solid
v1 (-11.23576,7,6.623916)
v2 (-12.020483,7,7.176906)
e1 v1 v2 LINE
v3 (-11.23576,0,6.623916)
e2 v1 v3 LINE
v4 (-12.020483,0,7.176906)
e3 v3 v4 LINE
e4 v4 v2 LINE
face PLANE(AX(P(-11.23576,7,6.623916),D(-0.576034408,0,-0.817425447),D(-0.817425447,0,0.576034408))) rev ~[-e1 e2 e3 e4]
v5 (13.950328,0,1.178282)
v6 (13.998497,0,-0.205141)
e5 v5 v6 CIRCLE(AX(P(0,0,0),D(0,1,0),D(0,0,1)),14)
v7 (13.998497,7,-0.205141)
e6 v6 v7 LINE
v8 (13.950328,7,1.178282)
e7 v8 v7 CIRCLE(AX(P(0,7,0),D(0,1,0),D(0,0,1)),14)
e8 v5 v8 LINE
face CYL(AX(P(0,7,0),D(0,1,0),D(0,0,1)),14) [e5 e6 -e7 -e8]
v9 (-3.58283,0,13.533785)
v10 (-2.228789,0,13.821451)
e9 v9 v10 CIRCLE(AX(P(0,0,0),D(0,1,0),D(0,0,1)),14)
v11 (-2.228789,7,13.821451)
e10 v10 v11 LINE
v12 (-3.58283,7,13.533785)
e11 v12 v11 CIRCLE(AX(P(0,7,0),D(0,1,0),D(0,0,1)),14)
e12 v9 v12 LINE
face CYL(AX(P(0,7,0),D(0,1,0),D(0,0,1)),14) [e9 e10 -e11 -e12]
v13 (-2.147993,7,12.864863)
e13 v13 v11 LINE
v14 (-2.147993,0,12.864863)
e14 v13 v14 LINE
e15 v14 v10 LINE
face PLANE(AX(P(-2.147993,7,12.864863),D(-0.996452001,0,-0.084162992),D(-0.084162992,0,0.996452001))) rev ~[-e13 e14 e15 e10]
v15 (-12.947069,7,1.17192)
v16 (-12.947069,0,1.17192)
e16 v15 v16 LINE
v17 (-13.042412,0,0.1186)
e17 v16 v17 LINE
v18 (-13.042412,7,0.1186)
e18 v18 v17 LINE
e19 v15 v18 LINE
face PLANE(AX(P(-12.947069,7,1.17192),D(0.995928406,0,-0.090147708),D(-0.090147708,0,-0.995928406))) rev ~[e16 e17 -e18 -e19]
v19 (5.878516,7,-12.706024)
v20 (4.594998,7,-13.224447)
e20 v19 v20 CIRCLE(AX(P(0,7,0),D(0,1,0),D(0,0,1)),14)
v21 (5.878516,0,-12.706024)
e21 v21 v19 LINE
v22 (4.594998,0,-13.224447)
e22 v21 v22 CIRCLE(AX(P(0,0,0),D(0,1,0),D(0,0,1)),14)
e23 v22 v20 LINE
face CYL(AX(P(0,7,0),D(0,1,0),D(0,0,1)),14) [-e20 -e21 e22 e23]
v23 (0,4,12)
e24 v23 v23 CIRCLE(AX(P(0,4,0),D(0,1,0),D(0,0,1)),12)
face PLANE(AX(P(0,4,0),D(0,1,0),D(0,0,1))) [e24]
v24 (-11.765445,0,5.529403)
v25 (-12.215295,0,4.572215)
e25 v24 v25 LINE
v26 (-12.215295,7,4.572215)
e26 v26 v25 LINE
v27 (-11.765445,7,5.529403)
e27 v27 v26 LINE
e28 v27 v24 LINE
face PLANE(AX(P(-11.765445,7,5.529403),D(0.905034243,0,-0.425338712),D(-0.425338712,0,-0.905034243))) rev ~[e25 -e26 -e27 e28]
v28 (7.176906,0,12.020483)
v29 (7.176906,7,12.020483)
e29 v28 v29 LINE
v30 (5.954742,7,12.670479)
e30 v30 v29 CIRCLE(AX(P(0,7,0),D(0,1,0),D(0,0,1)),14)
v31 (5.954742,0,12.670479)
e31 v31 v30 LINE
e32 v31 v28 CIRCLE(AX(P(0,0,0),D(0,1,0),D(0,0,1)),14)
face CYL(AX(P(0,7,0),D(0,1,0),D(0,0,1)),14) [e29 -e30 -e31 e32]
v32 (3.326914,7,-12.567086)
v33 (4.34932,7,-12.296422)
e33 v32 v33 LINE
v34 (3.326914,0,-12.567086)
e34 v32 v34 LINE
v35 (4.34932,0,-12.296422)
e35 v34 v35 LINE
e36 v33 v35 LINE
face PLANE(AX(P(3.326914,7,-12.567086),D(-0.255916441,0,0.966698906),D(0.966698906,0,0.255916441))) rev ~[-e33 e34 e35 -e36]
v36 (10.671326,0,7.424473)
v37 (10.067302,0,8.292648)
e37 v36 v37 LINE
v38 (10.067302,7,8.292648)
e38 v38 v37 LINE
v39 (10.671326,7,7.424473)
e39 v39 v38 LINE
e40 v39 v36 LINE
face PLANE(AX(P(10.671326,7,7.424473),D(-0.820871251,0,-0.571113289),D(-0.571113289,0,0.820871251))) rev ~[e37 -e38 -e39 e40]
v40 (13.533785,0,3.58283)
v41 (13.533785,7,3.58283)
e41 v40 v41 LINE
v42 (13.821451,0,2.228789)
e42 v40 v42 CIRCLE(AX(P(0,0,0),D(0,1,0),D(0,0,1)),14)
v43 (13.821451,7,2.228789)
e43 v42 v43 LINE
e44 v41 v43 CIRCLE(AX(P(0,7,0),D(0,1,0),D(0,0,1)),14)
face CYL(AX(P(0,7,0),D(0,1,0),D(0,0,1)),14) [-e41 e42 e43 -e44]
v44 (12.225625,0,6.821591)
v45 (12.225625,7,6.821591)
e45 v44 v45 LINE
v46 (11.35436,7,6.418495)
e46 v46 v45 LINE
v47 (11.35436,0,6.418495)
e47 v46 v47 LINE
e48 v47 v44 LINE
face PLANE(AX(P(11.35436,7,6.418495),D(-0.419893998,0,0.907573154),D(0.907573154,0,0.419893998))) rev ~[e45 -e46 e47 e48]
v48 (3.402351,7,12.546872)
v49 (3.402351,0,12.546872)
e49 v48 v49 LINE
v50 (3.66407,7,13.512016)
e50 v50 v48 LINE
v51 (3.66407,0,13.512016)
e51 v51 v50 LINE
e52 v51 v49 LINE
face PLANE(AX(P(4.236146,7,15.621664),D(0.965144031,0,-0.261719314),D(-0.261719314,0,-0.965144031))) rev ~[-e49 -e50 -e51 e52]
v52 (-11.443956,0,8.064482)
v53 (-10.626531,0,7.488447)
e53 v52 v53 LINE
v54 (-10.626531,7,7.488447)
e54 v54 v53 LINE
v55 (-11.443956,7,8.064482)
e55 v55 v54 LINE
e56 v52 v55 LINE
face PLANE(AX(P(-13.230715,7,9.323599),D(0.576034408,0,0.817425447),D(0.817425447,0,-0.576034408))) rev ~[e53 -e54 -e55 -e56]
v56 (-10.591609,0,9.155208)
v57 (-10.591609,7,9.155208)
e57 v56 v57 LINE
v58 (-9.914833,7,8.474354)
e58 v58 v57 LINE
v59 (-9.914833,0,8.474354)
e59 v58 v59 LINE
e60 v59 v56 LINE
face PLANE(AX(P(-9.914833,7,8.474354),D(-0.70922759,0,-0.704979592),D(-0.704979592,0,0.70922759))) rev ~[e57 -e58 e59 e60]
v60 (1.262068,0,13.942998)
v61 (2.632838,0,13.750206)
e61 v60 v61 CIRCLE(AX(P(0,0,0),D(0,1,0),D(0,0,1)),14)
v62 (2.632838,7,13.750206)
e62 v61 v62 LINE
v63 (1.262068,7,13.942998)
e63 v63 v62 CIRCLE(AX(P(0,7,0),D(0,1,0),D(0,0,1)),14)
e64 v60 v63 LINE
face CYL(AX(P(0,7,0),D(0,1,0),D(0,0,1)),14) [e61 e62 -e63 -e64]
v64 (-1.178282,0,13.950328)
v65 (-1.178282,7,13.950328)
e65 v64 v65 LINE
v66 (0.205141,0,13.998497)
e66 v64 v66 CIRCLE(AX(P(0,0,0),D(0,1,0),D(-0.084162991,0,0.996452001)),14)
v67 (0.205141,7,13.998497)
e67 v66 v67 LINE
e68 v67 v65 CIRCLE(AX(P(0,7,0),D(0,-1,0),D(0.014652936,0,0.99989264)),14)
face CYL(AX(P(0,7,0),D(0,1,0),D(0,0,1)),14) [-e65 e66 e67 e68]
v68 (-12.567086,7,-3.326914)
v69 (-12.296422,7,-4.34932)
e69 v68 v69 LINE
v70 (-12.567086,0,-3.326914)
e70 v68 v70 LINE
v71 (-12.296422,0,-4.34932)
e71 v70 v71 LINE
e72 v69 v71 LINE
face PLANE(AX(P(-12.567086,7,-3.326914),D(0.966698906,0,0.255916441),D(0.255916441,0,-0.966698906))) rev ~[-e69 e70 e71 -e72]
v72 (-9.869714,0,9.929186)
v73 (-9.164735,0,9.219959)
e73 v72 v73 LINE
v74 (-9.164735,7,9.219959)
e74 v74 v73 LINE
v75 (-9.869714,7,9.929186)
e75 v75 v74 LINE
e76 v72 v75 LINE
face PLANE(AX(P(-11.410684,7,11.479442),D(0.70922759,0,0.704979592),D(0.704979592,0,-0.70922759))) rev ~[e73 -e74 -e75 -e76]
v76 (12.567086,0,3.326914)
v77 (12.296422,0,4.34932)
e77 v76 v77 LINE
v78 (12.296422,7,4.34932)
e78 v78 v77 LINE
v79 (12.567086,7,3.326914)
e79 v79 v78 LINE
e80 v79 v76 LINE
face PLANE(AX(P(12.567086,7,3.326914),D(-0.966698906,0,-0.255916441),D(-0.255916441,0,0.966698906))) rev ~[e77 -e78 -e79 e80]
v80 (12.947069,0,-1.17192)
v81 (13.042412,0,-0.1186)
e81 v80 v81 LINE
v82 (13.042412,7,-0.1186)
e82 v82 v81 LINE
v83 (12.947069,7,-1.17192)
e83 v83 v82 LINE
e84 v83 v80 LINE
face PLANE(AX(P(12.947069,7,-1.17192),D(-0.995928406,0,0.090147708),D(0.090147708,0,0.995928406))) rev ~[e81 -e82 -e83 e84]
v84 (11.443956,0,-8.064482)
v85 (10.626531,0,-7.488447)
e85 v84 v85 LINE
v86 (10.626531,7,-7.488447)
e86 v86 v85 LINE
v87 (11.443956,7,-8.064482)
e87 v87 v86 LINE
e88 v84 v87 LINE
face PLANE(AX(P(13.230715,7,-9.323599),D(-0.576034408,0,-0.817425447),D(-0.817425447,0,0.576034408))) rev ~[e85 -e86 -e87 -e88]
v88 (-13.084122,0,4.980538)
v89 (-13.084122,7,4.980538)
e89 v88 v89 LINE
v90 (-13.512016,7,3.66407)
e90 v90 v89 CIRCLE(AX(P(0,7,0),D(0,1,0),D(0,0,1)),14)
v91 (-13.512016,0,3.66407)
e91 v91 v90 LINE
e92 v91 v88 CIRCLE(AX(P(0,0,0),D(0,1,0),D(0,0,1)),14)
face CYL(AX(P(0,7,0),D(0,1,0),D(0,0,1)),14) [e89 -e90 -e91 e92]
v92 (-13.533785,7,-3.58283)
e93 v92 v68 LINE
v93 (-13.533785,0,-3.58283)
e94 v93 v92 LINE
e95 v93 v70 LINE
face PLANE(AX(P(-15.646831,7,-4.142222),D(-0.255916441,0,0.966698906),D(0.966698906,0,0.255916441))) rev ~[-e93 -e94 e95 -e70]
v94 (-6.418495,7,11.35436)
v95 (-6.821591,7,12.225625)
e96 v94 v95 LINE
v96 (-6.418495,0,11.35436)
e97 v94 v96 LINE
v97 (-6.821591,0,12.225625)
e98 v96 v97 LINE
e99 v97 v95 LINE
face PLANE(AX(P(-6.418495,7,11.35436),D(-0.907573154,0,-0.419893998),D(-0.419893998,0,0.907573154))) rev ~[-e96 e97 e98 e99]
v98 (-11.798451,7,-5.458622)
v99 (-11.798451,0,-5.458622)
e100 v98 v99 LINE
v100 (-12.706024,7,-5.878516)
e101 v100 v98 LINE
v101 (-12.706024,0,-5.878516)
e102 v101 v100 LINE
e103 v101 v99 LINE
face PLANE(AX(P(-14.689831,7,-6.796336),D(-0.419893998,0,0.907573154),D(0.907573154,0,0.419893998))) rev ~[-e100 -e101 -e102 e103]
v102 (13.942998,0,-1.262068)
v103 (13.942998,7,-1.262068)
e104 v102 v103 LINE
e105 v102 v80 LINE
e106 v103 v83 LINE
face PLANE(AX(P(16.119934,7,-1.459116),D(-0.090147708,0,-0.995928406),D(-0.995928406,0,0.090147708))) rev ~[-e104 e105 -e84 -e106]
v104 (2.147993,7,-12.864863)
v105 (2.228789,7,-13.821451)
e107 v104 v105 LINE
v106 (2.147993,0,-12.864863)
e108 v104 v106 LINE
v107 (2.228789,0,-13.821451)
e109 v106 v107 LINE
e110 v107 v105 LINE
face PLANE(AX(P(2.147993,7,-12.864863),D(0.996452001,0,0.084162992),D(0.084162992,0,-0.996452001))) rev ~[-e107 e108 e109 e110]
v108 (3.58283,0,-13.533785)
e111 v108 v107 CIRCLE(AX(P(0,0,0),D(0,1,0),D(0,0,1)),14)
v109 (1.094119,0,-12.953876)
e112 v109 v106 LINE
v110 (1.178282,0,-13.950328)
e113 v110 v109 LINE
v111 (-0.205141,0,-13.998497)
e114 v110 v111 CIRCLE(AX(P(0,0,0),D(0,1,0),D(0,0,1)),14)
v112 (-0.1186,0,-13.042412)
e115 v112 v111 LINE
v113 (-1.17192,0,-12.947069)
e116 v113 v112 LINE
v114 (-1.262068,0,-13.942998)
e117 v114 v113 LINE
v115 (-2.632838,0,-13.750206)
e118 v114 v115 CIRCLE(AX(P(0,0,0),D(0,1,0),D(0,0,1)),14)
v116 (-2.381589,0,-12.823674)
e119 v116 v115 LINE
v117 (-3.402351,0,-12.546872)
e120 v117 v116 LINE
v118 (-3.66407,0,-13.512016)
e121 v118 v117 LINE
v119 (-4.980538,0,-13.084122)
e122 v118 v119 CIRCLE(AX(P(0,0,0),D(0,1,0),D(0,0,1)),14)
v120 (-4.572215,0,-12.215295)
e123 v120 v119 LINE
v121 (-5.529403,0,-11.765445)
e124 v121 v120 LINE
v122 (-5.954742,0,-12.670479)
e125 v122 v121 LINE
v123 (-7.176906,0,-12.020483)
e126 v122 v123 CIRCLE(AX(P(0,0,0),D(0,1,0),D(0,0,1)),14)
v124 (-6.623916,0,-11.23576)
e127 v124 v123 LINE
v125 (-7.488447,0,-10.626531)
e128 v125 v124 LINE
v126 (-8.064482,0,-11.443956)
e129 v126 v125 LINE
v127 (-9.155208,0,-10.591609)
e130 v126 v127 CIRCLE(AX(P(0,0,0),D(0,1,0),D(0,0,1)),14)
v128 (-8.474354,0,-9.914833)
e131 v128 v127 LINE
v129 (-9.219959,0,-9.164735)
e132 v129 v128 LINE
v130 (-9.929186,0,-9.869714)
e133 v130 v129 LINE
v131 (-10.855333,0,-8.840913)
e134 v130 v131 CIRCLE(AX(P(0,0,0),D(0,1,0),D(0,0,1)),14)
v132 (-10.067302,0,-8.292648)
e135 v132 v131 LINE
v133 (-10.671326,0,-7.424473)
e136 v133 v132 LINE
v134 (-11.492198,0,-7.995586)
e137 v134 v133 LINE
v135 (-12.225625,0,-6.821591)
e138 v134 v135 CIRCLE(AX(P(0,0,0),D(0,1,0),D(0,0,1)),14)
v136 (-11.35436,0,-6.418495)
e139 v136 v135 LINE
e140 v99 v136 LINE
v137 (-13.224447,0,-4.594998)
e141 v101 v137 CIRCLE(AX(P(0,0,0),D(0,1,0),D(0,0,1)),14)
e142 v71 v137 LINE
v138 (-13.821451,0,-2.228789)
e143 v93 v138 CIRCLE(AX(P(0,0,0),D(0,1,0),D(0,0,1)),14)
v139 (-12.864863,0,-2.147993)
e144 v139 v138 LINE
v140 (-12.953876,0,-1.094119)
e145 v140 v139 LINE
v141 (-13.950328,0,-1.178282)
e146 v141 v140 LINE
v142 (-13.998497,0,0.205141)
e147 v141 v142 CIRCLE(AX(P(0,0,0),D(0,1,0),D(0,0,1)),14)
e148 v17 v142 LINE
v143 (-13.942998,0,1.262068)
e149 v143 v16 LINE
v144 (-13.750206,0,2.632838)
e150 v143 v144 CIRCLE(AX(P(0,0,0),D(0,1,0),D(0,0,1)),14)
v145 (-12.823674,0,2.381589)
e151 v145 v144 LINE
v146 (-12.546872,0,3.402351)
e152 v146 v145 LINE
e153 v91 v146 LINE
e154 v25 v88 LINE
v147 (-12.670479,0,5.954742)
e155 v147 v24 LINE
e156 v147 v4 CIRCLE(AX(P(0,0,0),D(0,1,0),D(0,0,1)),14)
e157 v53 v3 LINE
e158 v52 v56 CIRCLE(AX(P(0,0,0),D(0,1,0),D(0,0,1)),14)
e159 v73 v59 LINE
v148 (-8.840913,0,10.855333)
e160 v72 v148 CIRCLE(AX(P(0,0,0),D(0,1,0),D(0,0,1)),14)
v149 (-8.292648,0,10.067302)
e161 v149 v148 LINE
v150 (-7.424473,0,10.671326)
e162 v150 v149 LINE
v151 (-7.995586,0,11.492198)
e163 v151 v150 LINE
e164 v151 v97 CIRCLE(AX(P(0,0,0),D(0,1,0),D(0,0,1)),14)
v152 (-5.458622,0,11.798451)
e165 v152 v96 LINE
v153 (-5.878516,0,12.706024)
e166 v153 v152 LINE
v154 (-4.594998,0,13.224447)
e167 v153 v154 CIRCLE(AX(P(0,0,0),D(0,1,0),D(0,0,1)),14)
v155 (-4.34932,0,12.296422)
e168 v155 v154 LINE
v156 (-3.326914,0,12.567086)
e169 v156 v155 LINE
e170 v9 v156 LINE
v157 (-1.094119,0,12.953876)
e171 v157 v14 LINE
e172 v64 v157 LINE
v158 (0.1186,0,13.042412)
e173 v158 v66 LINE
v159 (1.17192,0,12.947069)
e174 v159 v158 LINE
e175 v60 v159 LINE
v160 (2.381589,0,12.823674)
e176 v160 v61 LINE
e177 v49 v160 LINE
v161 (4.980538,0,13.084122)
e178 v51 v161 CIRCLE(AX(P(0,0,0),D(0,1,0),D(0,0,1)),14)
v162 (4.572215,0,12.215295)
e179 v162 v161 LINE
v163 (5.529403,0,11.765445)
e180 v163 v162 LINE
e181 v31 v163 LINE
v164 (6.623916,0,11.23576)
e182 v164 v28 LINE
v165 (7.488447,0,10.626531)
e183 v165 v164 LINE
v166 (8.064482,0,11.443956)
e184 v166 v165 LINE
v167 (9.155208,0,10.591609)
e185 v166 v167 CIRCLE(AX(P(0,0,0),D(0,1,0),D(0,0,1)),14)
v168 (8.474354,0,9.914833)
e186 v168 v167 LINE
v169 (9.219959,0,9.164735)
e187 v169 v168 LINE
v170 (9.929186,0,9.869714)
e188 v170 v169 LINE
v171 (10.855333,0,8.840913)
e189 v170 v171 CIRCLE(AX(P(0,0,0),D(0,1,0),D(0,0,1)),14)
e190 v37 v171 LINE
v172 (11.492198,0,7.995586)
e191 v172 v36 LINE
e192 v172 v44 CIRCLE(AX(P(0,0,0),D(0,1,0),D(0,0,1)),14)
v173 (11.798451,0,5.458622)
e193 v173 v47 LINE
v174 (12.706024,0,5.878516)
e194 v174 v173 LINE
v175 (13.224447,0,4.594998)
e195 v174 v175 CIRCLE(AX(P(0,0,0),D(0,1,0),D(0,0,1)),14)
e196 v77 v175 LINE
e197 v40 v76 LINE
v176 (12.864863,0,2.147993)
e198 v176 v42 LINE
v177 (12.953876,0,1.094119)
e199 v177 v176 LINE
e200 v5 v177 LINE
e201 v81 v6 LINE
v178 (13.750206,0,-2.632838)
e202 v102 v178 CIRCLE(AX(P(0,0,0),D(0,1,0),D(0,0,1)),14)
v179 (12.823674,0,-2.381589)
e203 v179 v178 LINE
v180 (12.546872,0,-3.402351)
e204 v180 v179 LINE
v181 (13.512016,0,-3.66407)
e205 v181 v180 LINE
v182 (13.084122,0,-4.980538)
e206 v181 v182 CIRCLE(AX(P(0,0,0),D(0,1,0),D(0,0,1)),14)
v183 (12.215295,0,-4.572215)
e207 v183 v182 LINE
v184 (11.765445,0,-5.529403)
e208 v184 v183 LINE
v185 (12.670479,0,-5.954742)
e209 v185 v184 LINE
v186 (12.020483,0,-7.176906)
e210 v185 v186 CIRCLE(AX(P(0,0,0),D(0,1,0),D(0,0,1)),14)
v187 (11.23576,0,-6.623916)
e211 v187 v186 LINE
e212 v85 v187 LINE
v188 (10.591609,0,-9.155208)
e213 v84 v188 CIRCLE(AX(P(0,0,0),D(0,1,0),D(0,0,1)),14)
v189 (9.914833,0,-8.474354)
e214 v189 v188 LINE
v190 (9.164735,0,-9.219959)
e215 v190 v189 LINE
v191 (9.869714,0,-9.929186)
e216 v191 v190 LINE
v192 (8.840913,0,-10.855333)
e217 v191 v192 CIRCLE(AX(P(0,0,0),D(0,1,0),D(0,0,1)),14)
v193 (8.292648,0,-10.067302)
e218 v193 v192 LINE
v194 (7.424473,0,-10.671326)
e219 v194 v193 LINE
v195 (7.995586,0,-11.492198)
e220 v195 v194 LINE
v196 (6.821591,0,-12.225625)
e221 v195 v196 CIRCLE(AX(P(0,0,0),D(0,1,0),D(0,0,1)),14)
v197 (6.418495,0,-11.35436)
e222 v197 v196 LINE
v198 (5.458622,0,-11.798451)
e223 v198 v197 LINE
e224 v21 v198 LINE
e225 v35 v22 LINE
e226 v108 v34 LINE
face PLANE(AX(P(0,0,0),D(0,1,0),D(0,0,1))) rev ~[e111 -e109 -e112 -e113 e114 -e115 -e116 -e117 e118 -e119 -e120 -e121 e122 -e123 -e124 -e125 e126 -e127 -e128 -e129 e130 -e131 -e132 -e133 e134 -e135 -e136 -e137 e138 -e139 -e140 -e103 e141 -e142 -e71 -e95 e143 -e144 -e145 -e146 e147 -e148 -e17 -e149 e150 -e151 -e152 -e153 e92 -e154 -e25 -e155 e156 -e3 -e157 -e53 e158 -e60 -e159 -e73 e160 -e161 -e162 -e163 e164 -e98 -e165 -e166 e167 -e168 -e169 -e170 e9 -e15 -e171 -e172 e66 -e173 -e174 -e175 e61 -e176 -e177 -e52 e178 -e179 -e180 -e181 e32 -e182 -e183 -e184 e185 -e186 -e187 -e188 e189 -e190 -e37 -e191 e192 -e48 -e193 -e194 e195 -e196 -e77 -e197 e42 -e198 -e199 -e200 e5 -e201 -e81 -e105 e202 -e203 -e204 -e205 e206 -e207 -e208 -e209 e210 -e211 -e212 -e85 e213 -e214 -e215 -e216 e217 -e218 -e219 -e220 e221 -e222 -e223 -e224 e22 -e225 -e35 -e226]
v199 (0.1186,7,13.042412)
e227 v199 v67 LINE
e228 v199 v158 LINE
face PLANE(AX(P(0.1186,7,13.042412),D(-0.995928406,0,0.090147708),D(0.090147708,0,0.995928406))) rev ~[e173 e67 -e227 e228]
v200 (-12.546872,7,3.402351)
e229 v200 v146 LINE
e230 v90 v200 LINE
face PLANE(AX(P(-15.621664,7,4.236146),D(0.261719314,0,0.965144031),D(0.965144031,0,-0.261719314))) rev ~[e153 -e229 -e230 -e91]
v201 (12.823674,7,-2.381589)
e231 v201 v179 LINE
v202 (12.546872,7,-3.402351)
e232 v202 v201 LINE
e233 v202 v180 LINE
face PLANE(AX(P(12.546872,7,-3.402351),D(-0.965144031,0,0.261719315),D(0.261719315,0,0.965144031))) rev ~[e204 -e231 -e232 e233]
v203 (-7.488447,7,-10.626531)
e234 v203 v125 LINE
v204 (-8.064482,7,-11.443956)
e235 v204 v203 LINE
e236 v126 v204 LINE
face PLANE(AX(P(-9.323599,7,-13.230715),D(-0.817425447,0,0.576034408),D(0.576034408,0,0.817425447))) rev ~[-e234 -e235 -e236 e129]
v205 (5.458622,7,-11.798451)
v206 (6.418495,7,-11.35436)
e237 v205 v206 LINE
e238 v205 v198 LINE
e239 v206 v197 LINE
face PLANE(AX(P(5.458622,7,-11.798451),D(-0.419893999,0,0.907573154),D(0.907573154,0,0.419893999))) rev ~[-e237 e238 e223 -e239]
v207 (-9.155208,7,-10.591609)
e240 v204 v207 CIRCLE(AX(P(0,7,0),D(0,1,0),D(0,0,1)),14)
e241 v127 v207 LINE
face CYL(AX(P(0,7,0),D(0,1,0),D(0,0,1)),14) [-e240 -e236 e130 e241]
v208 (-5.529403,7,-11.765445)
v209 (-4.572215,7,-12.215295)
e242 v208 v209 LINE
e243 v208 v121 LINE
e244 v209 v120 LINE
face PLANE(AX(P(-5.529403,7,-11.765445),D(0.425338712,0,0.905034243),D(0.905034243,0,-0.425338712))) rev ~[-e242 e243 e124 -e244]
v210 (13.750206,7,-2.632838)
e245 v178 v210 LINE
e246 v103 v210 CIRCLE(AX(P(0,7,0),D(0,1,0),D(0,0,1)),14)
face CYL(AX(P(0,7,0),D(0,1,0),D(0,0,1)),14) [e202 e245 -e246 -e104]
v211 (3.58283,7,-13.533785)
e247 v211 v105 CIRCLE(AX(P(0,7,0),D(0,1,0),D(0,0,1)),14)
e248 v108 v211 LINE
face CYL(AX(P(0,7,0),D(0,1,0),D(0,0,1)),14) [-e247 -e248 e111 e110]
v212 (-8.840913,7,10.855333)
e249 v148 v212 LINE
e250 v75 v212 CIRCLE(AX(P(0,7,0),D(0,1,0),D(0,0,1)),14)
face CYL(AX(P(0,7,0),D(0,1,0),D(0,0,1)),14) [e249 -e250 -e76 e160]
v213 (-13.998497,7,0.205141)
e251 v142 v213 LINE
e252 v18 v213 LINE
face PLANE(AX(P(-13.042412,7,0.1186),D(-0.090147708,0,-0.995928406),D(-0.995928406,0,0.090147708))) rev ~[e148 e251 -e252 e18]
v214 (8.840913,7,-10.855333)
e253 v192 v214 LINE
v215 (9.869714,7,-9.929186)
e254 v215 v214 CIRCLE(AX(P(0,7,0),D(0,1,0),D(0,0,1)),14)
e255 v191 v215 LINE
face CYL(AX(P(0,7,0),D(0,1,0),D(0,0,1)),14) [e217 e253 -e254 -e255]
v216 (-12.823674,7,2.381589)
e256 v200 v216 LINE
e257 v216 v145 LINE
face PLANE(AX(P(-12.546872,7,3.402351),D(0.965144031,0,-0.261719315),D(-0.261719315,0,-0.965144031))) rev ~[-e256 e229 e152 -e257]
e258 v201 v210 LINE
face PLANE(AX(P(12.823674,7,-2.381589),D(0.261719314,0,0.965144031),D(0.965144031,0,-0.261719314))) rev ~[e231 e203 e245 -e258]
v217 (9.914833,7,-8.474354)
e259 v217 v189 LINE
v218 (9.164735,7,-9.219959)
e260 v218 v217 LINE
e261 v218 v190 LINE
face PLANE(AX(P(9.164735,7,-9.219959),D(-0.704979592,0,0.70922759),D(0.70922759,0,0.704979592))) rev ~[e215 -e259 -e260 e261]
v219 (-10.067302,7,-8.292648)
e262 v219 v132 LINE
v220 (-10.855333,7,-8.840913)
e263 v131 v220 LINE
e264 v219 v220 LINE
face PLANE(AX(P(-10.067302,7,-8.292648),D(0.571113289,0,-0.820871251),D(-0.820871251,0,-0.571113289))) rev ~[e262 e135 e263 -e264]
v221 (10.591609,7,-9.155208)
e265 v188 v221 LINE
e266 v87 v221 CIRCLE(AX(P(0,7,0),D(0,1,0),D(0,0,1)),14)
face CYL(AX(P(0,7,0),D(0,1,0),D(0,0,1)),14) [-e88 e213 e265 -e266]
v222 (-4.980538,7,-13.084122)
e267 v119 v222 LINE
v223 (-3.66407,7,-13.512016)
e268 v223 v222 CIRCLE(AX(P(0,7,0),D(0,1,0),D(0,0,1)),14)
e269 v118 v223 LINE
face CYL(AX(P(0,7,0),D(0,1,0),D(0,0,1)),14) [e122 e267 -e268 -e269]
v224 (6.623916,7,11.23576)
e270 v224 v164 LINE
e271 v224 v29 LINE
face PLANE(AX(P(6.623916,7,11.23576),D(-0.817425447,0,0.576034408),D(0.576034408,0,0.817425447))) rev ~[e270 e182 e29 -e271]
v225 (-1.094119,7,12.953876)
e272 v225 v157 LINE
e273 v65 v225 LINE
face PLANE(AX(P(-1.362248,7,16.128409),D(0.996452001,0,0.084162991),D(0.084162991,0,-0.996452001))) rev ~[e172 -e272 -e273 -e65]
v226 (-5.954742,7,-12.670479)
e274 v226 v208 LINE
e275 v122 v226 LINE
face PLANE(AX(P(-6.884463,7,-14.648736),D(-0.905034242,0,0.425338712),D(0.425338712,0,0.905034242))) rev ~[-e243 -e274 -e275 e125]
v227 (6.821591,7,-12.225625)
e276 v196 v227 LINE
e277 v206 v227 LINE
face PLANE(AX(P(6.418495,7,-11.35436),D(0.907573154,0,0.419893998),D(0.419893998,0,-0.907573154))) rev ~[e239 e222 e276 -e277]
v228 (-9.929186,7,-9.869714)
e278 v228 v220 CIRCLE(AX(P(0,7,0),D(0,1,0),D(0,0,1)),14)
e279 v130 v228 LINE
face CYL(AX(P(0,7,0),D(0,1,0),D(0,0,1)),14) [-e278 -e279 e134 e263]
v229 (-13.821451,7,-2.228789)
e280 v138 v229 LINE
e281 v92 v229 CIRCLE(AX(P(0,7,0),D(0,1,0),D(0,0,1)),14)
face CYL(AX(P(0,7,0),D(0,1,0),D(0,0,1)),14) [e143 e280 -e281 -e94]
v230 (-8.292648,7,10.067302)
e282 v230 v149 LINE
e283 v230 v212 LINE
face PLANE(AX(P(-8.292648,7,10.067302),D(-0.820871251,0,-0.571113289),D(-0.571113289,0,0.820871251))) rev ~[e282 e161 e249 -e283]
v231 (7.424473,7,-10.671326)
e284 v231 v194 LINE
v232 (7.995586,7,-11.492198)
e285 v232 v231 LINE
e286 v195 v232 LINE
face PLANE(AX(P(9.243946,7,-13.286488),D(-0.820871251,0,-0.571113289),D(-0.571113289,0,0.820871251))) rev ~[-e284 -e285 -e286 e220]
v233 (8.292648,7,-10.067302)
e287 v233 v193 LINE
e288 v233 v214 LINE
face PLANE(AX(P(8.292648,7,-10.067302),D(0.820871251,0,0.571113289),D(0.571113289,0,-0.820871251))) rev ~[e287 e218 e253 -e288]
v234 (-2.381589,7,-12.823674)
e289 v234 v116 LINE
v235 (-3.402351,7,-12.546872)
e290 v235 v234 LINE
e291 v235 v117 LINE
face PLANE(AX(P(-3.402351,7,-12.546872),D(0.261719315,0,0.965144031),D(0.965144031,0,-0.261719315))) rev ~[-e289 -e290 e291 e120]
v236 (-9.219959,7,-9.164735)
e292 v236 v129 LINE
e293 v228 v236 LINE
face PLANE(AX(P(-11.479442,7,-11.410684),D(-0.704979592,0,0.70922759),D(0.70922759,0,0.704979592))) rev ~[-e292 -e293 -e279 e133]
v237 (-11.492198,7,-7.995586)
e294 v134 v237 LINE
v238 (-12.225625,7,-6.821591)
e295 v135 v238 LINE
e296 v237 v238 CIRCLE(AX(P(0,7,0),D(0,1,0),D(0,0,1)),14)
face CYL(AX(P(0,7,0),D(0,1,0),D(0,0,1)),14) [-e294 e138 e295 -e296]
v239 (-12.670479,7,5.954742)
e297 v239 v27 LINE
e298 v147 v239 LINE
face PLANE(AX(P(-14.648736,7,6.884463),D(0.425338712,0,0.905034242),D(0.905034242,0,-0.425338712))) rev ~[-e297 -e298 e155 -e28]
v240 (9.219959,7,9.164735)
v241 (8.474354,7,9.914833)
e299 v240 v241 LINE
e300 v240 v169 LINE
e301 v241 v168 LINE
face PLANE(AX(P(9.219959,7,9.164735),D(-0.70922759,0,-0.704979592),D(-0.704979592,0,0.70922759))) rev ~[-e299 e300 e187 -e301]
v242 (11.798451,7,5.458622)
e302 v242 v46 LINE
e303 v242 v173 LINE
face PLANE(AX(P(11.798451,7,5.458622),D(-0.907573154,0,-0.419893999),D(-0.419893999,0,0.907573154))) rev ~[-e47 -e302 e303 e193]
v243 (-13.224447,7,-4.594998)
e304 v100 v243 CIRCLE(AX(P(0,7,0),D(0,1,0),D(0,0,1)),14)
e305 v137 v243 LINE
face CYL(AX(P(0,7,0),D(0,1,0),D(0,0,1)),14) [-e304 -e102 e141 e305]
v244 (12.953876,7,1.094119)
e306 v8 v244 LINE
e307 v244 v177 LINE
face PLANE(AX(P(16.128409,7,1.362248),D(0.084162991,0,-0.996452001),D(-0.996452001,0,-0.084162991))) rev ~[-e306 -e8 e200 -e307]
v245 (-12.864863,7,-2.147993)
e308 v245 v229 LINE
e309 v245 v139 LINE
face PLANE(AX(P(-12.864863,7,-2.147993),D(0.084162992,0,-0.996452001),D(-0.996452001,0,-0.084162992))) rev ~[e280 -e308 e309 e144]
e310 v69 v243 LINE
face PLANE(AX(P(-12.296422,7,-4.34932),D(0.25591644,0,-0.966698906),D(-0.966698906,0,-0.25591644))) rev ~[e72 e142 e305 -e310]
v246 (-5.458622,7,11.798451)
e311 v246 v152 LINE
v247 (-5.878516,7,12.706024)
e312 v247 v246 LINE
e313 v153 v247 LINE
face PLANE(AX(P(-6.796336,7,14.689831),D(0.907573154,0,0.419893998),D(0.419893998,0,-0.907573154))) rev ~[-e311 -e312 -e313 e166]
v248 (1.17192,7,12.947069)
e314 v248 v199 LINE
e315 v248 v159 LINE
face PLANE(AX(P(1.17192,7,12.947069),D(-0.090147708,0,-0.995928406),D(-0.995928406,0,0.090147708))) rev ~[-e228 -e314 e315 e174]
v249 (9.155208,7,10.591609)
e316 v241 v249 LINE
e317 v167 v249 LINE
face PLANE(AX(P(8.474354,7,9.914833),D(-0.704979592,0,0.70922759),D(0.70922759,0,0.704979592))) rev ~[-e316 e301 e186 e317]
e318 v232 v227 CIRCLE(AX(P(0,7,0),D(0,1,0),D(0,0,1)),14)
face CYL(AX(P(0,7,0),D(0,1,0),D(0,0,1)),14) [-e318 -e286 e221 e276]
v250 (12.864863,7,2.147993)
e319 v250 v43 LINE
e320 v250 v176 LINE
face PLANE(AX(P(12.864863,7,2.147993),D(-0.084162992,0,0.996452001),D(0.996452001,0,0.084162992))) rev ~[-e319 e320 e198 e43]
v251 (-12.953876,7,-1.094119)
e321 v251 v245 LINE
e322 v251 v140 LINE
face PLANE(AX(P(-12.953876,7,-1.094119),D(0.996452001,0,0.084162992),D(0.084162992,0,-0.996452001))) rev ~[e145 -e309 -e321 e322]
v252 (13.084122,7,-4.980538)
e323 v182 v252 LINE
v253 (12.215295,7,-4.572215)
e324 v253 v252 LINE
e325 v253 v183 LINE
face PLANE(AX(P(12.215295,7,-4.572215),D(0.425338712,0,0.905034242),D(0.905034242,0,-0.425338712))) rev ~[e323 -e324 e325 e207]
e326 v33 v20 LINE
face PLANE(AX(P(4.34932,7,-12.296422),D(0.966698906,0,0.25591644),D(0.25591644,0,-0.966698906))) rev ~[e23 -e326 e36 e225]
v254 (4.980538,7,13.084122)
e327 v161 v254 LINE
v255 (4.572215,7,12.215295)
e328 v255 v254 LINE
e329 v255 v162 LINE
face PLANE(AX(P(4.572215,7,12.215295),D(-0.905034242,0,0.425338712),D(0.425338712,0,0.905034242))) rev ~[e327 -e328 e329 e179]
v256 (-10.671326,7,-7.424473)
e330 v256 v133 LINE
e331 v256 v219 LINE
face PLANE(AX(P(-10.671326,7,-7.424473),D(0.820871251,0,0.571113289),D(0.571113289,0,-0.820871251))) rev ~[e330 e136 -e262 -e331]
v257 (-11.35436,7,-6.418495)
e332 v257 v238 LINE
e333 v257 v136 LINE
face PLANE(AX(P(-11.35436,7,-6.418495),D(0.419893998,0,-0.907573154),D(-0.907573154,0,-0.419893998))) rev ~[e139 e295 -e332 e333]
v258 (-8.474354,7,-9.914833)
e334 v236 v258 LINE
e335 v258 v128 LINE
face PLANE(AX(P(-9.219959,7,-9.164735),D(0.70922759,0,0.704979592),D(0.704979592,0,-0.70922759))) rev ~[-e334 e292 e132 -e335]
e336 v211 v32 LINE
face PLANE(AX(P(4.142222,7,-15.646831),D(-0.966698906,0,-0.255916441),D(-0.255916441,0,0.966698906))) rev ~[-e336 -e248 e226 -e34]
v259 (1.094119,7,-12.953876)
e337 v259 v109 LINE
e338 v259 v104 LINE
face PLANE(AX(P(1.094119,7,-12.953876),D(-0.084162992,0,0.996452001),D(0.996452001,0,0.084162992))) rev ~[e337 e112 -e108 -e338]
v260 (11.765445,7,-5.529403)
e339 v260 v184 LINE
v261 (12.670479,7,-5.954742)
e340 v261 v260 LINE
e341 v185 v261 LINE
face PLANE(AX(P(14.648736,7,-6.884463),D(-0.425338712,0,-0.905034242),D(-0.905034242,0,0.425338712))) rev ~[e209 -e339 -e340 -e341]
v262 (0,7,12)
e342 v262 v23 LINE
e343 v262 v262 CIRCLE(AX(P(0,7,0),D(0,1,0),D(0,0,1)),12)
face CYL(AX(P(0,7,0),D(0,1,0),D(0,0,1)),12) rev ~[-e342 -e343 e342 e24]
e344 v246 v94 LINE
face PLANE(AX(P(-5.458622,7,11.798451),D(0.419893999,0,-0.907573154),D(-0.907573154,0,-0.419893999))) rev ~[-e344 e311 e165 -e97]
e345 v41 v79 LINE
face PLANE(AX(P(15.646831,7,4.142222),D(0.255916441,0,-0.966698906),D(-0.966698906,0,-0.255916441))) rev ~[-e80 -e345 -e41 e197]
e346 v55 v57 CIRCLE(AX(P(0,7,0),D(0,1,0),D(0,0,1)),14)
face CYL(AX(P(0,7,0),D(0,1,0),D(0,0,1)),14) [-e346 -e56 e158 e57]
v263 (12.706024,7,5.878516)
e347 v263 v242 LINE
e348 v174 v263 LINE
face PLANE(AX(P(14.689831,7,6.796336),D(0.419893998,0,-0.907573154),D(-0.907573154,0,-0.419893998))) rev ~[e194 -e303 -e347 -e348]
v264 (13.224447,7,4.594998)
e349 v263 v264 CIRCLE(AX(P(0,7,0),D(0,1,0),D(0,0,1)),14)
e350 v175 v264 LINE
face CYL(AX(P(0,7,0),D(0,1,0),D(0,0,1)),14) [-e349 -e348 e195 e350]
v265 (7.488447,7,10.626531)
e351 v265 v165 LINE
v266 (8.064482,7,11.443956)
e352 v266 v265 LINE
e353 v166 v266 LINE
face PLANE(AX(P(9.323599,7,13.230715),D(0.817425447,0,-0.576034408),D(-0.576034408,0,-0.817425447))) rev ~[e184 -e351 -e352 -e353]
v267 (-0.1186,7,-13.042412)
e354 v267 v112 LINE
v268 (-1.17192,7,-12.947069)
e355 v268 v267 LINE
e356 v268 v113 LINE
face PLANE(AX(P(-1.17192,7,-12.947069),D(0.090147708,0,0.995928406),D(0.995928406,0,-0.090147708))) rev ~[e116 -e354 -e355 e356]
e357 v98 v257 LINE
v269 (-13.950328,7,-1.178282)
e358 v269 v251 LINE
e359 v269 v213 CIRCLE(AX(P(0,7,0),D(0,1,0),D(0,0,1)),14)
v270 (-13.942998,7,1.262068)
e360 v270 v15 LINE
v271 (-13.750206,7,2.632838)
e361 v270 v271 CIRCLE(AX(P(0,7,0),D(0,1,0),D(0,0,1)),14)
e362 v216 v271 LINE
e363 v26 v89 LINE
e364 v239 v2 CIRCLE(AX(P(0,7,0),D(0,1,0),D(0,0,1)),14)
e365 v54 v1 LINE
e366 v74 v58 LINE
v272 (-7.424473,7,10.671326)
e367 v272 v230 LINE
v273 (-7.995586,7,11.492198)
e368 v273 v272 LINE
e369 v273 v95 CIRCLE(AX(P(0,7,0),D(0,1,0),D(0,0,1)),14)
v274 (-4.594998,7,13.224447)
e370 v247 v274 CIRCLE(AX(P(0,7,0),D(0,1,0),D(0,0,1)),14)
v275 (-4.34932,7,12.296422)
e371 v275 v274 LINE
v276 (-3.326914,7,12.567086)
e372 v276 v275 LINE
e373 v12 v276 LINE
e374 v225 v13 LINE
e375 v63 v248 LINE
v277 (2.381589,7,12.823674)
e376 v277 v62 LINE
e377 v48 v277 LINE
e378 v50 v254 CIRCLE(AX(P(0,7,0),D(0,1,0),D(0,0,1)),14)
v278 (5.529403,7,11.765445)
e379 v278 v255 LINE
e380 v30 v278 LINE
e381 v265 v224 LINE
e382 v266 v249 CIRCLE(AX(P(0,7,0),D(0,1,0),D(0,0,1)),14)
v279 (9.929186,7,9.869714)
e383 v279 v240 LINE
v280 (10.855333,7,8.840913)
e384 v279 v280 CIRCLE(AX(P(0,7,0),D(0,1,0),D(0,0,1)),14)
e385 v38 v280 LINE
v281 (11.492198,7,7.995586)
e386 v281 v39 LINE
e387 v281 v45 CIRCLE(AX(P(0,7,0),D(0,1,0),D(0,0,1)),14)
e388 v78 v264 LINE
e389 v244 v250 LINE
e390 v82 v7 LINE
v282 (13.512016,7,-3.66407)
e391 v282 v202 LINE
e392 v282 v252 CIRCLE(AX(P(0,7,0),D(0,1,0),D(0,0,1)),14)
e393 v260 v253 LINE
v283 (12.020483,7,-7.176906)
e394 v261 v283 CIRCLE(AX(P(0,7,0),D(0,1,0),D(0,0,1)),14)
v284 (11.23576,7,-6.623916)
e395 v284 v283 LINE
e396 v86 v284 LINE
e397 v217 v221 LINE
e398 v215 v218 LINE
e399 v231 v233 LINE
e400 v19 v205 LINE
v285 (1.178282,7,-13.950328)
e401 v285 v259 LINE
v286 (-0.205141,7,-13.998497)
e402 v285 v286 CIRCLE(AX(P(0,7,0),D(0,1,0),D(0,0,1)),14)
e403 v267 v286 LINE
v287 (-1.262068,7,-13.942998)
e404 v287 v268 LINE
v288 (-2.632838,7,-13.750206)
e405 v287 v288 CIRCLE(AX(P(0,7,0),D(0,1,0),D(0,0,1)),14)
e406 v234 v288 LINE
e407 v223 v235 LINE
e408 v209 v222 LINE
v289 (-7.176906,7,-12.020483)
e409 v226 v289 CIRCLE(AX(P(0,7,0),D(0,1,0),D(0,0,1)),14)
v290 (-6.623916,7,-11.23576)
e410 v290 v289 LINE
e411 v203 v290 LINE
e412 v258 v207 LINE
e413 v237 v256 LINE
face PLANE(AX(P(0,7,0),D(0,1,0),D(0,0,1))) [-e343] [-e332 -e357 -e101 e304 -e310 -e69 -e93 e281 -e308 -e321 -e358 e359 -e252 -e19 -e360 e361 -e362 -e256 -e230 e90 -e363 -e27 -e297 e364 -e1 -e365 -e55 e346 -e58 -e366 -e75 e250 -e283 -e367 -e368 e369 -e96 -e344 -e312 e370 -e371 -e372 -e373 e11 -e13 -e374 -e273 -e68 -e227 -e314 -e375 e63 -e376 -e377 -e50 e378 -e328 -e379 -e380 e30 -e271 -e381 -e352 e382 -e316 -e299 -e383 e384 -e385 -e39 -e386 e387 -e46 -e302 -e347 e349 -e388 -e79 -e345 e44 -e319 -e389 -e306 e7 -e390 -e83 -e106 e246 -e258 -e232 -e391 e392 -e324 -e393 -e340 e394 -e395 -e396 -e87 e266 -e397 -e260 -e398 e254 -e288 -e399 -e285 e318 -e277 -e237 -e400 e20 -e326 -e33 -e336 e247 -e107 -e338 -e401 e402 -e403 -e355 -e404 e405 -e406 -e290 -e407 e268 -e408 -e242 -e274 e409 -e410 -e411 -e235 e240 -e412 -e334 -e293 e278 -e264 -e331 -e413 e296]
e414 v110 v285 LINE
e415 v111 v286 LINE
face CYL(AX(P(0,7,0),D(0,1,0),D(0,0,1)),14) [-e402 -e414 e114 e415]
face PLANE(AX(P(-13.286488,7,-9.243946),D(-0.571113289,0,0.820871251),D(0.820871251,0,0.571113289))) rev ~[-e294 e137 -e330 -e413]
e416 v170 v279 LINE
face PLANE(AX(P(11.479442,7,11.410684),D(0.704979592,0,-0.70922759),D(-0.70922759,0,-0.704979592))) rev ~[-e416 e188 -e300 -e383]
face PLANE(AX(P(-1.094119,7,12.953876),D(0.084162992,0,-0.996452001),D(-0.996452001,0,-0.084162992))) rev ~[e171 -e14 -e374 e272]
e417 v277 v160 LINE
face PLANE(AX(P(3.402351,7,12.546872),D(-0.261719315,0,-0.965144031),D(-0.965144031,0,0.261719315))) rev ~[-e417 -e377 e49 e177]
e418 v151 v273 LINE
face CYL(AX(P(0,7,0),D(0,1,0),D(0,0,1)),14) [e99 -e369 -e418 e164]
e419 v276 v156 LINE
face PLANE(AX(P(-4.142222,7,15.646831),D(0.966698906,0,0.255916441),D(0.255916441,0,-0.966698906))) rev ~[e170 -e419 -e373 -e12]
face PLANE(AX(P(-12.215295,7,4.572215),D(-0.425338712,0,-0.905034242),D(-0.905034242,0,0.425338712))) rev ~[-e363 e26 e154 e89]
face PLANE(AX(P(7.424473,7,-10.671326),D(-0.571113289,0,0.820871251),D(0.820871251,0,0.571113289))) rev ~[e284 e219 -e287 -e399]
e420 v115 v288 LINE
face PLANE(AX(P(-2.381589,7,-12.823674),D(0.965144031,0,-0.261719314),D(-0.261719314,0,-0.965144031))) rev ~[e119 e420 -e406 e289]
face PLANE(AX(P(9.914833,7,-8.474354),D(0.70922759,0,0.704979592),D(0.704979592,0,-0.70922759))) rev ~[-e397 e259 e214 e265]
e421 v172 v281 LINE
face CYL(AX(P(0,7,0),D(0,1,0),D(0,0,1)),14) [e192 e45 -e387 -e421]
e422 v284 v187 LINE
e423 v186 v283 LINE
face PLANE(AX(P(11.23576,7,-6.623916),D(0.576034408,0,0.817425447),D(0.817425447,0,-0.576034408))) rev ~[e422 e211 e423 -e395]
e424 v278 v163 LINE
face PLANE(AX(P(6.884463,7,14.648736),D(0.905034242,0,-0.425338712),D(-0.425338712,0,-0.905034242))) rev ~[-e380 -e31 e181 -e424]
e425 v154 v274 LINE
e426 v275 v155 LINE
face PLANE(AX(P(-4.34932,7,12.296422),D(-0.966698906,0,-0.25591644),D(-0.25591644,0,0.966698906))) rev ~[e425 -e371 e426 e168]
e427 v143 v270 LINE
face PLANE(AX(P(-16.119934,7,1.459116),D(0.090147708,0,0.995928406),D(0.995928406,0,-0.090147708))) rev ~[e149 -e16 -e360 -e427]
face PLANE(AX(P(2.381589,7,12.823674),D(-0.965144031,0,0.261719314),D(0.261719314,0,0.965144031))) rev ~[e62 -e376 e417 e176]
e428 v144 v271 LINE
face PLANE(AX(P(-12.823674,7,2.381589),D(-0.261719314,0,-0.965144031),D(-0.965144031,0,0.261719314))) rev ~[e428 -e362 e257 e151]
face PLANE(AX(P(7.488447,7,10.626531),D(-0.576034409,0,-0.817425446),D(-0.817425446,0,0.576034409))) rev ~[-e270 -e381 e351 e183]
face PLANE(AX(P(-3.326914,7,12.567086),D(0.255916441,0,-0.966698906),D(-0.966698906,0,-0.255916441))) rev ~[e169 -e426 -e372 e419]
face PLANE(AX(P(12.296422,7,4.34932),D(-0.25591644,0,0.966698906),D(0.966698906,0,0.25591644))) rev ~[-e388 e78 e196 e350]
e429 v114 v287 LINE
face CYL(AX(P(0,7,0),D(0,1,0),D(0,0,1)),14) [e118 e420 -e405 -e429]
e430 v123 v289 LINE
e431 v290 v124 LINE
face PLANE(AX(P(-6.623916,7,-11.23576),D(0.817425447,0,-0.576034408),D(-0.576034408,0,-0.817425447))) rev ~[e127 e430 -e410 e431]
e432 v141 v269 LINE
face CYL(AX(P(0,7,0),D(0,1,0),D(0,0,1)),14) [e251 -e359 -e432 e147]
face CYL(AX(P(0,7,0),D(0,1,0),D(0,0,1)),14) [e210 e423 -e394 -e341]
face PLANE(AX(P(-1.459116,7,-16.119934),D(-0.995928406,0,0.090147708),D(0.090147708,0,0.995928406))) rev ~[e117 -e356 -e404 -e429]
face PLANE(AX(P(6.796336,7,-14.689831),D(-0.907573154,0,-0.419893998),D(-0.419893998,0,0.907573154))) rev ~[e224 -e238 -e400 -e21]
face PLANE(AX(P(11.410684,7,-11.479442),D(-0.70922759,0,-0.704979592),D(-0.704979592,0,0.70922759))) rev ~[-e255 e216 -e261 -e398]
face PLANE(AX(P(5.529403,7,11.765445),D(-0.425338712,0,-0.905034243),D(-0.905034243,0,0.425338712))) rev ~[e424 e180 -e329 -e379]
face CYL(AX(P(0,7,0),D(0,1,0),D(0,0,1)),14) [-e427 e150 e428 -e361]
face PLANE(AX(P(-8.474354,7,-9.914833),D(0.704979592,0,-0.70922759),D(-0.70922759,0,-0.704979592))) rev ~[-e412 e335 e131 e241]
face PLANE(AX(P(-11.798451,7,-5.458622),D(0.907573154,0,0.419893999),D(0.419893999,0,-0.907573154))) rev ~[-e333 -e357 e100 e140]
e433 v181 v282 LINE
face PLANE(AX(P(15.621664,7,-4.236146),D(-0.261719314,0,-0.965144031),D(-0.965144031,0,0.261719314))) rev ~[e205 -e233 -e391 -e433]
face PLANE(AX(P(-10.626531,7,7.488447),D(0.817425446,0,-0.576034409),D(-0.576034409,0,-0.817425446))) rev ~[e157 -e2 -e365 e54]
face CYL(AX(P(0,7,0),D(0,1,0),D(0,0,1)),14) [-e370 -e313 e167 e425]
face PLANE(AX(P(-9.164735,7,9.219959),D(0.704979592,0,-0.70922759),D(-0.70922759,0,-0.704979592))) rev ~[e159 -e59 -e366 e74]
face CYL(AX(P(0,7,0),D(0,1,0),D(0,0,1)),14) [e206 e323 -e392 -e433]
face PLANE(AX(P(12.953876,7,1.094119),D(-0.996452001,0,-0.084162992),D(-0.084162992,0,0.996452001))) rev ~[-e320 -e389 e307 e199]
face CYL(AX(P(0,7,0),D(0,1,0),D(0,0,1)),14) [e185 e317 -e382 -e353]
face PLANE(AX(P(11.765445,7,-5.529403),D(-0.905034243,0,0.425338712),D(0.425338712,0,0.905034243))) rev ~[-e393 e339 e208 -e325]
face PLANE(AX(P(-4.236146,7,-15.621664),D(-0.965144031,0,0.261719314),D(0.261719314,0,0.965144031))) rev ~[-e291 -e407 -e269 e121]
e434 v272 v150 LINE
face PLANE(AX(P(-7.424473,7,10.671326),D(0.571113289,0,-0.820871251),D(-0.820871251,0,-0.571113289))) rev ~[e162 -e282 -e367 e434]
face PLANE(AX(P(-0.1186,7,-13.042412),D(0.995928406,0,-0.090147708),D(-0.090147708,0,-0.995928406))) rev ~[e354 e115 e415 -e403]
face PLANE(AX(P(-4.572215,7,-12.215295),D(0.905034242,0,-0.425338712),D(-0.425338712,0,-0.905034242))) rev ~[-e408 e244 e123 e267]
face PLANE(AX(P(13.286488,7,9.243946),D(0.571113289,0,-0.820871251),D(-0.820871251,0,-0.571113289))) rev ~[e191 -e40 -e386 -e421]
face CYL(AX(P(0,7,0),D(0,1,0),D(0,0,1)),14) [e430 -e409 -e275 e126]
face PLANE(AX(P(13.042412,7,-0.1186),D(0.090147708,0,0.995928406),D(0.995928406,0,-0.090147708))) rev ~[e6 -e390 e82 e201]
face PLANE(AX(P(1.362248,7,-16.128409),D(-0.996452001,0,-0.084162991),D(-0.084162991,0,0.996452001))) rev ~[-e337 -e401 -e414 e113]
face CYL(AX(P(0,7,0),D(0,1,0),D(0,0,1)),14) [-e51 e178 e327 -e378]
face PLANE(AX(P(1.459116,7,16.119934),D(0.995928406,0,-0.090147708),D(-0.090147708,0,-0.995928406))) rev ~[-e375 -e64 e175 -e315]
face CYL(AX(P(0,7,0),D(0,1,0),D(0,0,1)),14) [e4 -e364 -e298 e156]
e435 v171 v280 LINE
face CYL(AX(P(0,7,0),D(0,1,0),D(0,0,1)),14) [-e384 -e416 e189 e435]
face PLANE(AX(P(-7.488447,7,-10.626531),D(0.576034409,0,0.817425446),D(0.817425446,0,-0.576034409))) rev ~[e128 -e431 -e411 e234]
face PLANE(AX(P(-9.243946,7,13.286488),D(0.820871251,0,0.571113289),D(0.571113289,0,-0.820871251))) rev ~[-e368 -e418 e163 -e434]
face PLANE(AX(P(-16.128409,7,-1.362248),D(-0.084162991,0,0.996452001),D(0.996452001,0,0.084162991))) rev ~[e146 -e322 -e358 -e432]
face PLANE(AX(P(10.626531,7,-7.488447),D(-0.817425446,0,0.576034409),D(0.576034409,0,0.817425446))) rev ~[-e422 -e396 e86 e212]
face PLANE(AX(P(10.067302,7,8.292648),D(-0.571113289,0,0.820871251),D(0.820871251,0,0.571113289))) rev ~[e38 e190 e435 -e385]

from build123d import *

# Parameters (mm, degrees)
SKETCH_1_R          = 13
EXTRUDE_1_DEPTH     = 7
SKETCH_6_R          = 14
EXTRUDE_4_DEPTH     = 7
SKETCH_2_R          = 12
CUT_EXTRUDE_1_DEPTH = 3
CUT_EXTRUDE_2_DEPTH = 22


with BuildPart() as part:
    # 草图1 → 凸台-拉伸1 (new body)
    with BuildSketch(Plane(origin=(0, 0, 0), x_dir=(1, 0, 0), z_dir=(0, 1, 0))):
        with Locations(Location((0, 0, 0), (0, 0, 270))):
            Circle(SKETCH_1_R)
    extrude(amount=EXTRUDE_1_DEPTH)

    # 草图6 → 凸台-拉伸4 (add, through all)
    with BuildSketch(Plane(origin=(0, 7, 0), x_dir=(1, 0, 0), z_dir=(0, 1, 0))):
        with Locations(Location((0, 0, 0), (0, 0, 270))):
            Circle(SKETCH_6_R)
    extrude(amount=-EXTRUDE_4_DEPTH)

    # 草图2 → 切除-拉伸1 (cut)
    with BuildSketch(Plane(origin=(0, 7, 0), x_dir=(1, 0, 0), z_dir=(0, 1, 0))):
        with Locations(Location((0, 0, 0), (0, 0, 270))):
            Circle(SKETCH_2_R)
    extrude(amount=-CUT_EXTRUDE_1_DEPTH, mode=Mode.SUBTRACT)

    # 草图7 → 切除-拉伸2 (cut, through all)
    with BuildSketch(Plane(origin=(0, 7, 0), x_dir=(1, 0, 0), z_dir=(0, 1, 0))):
        Polygon((-15.646830527, 4.142221687), (-12.567085782, 3.326913727), (-12.296421758, 4.349320163), (-15.376166503, 5.164628122), align=None)
        Polygon((-14.689830765, 6.79633564), (-11.798451005, 5.458621977), (-11.354359961, 6.418495447), (-14.245739722, 7.756209109), align=None)
        Polygon((-13.28648793, 9.243946373), (-10.671326264, 7.42447276), (-10.067301683, 8.292647994), (-12.682463348, 10.112121607), align=None)
        Polygon((-11.479441881, 11.410684473), (-9.219958675, 9.164734695), (-8.474353537, 9.914832629), (-10.733836743, 12.160782407), align=None)
        Polygon((-9.3235988, 13.230714699), (-7.488447307, 10.626530804), (-6.623916447, 11.235760092), (-8.45906794, 13.839943987), align=None)
        Polygon((-6.884462888, 14.648736355), (-5.529403257, 11.765445152), (-4.572215008, 12.215294669), (-5.927274639, 15.098585872), align=None)
        Polygon((-4.236146054, 15.621663569), (-3.402351087, 12.546872402), (-2.381589129, 12.8236737), (-3.215384096, 15.898464866), align=None)
        Polygon((-1.459116066, 16.11993444), (-1.171920201, 12.947069284), (-0.11859987, 13.042411894), (-0.405795735, 16.21527705), align=None)
        Polygon((1.362248425, 16.12840926), (1.094118888, 12.953876017), (2.147992986, 12.864863002), (2.416122524, 16.039396246), align=None)
        Polygon((4.142221687, 15.646830527), (3.326913727, 12.567085782), (4.349320163, 12.296421758), (5.164628122, 15.376166503), align=None)
        Polygon((6.79633564, 14.689830765), (5.458621977, 11.798451005), (6.418495447, 11.354359961), (7.756209109, 14.245739722), align=None)
        Polygon((9.243946373, 13.28648793), (7.42447276, 10.671326264), (8.292647994, 10.067301683), (10.112121607, 12.682463348), align=None)
        Polygon((11.410684473, 11.479441881), (9.164734695, 9.219958675), (9.914832629, 8.474353537), (12.160782407, 10.733836743), align=None)
        Polygon((13.230714699, 9.3235988), (10.626530804, 7.488447307), (11.235760092, 6.623916447), (13.839943987, 8.45906794), align=None)
        Polygon((14.648736355, 6.884462888), (11.765445152, 5.529403257), (12.215294669, 4.572215008), (15.098585872, 5.927274639), align=None)
        Polygon((15.621663569, 4.236146054), (12.546872402, 3.402351087), (12.8236737, 2.381589129), (15.898464866, 3.215384096), align=None)
        Polygon((16.11993444, 1.459116066), (12.947069284, 1.171920201), (13.042411894, 0.11859987), (16.21527705, 0.405795735), align=None)
        Polygon((16.12840926, -1.362248425), (12.953876017, -1.094118888), (12.864863002, -2.147992986), (16.039396246, -2.416122524), align=None)
        Polygon((15.646830527, -4.142221687), (12.567085782, -3.326913727), (12.296421758, -4.349320163), (15.376166503, -5.164628122), align=None)
        Polygon((14.689830765, -6.79633564), (11.798451005, -5.458621977), (11.354359961, -6.418495447), (14.245739722, -7.756209109), align=None)
        Polygon((13.28648793, -9.243946373), (10.671326264, -7.42447276), (10.067301683, -8.292647994), (12.682463348, -10.112121607), align=None)
        Polygon((11.479441881, -11.410684473), (9.219958675, -9.164734695), (8.474353537, -9.914832629), (10.733836743, -12.160782407), align=None)
        Polygon((9.3235988, -13.230714699), (7.488447307, -10.626530804), (6.623916447, -11.235760092), (8.45906794, -13.839943987), align=None)
        Polygon((6.884462888, -14.648736355), (5.529403257, -11.765445152), (4.572215008, -12.215294669), (5.927274639, -15.098585872), align=None)
        Polygon((4.236146054, -15.621663569), (3.402351087, -12.546872402), (2.381589129, -12.8236737), (3.215384096, -15.898464866), align=None)
        Polygon((1.459116066, -16.11993444), (1.171920201, -12.947069284), (0.11859987, -13.042411894), (0.405795735, -16.21527705), align=None)
        Polygon((-1.362248425, -16.12840926), (-1.094118888, -12.953876017), (-2.147992986, -12.864863002), (-2.416122524, -16.039396246), align=None)
        Polygon((-4.142221687, -15.646830527), (-3.326913727, -12.567085782), (-4.349320163, -12.296421758), (-5.164628122, -15.376166503), align=None)
        Polygon((-6.79633564, -14.689830765), (-5.458621977, -11.798451005), (-6.418495447, -11.354359961), (-7.756209109, -14.245739722), align=None)
        Polygon((-9.243946373, -13.28648793), (-7.42447276, -10.671326264), (-8.292647994, -10.067301683), (-10.112121607, -12.682463348), align=None)
        Polygon((-11.410684473, -11.479441881), (-9.164734695, -9.219958675), (-9.914832629, -8.474353537), (-12.160782407, -10.733836743), align=None)
        Polygon((-13.230714699, -9.3235988), (-10.626530804, -7.488447307), (-11.235760092, -6.623916447), (-13.839943987, -8.45906794), align=None)
        Polygon((-14.648736355, -6.884462888), (-11.765445152, -5.529403257), (-12.215294669, -4.572215008), (-15.098585872, -5.927274639), align=None)
        Polygon((-15.621663569, -4.236146054), (-12.546872402, -3.402351087), (-12.8236737, -2.381589129), (-15.898464866, -3.215384096), align=None)
        Polygon((-16.11993444, -1.459116066), (-12.947069284, -1.171920201), (-13.042411894, -0.11859987), (-16.21527705, -0.405795735), align=None)
        Polygon((-16.12840926, 1.362248425), (-12.953876017, 1.094118888), (-12.864863002, 2.147992986), (-16.039396246, 2.416122524), align=None)
    extrude(amount=-CUT_EXTRUDE_2_DEPTH, mode=Mode.SUBTRACT)


solid = part.part
